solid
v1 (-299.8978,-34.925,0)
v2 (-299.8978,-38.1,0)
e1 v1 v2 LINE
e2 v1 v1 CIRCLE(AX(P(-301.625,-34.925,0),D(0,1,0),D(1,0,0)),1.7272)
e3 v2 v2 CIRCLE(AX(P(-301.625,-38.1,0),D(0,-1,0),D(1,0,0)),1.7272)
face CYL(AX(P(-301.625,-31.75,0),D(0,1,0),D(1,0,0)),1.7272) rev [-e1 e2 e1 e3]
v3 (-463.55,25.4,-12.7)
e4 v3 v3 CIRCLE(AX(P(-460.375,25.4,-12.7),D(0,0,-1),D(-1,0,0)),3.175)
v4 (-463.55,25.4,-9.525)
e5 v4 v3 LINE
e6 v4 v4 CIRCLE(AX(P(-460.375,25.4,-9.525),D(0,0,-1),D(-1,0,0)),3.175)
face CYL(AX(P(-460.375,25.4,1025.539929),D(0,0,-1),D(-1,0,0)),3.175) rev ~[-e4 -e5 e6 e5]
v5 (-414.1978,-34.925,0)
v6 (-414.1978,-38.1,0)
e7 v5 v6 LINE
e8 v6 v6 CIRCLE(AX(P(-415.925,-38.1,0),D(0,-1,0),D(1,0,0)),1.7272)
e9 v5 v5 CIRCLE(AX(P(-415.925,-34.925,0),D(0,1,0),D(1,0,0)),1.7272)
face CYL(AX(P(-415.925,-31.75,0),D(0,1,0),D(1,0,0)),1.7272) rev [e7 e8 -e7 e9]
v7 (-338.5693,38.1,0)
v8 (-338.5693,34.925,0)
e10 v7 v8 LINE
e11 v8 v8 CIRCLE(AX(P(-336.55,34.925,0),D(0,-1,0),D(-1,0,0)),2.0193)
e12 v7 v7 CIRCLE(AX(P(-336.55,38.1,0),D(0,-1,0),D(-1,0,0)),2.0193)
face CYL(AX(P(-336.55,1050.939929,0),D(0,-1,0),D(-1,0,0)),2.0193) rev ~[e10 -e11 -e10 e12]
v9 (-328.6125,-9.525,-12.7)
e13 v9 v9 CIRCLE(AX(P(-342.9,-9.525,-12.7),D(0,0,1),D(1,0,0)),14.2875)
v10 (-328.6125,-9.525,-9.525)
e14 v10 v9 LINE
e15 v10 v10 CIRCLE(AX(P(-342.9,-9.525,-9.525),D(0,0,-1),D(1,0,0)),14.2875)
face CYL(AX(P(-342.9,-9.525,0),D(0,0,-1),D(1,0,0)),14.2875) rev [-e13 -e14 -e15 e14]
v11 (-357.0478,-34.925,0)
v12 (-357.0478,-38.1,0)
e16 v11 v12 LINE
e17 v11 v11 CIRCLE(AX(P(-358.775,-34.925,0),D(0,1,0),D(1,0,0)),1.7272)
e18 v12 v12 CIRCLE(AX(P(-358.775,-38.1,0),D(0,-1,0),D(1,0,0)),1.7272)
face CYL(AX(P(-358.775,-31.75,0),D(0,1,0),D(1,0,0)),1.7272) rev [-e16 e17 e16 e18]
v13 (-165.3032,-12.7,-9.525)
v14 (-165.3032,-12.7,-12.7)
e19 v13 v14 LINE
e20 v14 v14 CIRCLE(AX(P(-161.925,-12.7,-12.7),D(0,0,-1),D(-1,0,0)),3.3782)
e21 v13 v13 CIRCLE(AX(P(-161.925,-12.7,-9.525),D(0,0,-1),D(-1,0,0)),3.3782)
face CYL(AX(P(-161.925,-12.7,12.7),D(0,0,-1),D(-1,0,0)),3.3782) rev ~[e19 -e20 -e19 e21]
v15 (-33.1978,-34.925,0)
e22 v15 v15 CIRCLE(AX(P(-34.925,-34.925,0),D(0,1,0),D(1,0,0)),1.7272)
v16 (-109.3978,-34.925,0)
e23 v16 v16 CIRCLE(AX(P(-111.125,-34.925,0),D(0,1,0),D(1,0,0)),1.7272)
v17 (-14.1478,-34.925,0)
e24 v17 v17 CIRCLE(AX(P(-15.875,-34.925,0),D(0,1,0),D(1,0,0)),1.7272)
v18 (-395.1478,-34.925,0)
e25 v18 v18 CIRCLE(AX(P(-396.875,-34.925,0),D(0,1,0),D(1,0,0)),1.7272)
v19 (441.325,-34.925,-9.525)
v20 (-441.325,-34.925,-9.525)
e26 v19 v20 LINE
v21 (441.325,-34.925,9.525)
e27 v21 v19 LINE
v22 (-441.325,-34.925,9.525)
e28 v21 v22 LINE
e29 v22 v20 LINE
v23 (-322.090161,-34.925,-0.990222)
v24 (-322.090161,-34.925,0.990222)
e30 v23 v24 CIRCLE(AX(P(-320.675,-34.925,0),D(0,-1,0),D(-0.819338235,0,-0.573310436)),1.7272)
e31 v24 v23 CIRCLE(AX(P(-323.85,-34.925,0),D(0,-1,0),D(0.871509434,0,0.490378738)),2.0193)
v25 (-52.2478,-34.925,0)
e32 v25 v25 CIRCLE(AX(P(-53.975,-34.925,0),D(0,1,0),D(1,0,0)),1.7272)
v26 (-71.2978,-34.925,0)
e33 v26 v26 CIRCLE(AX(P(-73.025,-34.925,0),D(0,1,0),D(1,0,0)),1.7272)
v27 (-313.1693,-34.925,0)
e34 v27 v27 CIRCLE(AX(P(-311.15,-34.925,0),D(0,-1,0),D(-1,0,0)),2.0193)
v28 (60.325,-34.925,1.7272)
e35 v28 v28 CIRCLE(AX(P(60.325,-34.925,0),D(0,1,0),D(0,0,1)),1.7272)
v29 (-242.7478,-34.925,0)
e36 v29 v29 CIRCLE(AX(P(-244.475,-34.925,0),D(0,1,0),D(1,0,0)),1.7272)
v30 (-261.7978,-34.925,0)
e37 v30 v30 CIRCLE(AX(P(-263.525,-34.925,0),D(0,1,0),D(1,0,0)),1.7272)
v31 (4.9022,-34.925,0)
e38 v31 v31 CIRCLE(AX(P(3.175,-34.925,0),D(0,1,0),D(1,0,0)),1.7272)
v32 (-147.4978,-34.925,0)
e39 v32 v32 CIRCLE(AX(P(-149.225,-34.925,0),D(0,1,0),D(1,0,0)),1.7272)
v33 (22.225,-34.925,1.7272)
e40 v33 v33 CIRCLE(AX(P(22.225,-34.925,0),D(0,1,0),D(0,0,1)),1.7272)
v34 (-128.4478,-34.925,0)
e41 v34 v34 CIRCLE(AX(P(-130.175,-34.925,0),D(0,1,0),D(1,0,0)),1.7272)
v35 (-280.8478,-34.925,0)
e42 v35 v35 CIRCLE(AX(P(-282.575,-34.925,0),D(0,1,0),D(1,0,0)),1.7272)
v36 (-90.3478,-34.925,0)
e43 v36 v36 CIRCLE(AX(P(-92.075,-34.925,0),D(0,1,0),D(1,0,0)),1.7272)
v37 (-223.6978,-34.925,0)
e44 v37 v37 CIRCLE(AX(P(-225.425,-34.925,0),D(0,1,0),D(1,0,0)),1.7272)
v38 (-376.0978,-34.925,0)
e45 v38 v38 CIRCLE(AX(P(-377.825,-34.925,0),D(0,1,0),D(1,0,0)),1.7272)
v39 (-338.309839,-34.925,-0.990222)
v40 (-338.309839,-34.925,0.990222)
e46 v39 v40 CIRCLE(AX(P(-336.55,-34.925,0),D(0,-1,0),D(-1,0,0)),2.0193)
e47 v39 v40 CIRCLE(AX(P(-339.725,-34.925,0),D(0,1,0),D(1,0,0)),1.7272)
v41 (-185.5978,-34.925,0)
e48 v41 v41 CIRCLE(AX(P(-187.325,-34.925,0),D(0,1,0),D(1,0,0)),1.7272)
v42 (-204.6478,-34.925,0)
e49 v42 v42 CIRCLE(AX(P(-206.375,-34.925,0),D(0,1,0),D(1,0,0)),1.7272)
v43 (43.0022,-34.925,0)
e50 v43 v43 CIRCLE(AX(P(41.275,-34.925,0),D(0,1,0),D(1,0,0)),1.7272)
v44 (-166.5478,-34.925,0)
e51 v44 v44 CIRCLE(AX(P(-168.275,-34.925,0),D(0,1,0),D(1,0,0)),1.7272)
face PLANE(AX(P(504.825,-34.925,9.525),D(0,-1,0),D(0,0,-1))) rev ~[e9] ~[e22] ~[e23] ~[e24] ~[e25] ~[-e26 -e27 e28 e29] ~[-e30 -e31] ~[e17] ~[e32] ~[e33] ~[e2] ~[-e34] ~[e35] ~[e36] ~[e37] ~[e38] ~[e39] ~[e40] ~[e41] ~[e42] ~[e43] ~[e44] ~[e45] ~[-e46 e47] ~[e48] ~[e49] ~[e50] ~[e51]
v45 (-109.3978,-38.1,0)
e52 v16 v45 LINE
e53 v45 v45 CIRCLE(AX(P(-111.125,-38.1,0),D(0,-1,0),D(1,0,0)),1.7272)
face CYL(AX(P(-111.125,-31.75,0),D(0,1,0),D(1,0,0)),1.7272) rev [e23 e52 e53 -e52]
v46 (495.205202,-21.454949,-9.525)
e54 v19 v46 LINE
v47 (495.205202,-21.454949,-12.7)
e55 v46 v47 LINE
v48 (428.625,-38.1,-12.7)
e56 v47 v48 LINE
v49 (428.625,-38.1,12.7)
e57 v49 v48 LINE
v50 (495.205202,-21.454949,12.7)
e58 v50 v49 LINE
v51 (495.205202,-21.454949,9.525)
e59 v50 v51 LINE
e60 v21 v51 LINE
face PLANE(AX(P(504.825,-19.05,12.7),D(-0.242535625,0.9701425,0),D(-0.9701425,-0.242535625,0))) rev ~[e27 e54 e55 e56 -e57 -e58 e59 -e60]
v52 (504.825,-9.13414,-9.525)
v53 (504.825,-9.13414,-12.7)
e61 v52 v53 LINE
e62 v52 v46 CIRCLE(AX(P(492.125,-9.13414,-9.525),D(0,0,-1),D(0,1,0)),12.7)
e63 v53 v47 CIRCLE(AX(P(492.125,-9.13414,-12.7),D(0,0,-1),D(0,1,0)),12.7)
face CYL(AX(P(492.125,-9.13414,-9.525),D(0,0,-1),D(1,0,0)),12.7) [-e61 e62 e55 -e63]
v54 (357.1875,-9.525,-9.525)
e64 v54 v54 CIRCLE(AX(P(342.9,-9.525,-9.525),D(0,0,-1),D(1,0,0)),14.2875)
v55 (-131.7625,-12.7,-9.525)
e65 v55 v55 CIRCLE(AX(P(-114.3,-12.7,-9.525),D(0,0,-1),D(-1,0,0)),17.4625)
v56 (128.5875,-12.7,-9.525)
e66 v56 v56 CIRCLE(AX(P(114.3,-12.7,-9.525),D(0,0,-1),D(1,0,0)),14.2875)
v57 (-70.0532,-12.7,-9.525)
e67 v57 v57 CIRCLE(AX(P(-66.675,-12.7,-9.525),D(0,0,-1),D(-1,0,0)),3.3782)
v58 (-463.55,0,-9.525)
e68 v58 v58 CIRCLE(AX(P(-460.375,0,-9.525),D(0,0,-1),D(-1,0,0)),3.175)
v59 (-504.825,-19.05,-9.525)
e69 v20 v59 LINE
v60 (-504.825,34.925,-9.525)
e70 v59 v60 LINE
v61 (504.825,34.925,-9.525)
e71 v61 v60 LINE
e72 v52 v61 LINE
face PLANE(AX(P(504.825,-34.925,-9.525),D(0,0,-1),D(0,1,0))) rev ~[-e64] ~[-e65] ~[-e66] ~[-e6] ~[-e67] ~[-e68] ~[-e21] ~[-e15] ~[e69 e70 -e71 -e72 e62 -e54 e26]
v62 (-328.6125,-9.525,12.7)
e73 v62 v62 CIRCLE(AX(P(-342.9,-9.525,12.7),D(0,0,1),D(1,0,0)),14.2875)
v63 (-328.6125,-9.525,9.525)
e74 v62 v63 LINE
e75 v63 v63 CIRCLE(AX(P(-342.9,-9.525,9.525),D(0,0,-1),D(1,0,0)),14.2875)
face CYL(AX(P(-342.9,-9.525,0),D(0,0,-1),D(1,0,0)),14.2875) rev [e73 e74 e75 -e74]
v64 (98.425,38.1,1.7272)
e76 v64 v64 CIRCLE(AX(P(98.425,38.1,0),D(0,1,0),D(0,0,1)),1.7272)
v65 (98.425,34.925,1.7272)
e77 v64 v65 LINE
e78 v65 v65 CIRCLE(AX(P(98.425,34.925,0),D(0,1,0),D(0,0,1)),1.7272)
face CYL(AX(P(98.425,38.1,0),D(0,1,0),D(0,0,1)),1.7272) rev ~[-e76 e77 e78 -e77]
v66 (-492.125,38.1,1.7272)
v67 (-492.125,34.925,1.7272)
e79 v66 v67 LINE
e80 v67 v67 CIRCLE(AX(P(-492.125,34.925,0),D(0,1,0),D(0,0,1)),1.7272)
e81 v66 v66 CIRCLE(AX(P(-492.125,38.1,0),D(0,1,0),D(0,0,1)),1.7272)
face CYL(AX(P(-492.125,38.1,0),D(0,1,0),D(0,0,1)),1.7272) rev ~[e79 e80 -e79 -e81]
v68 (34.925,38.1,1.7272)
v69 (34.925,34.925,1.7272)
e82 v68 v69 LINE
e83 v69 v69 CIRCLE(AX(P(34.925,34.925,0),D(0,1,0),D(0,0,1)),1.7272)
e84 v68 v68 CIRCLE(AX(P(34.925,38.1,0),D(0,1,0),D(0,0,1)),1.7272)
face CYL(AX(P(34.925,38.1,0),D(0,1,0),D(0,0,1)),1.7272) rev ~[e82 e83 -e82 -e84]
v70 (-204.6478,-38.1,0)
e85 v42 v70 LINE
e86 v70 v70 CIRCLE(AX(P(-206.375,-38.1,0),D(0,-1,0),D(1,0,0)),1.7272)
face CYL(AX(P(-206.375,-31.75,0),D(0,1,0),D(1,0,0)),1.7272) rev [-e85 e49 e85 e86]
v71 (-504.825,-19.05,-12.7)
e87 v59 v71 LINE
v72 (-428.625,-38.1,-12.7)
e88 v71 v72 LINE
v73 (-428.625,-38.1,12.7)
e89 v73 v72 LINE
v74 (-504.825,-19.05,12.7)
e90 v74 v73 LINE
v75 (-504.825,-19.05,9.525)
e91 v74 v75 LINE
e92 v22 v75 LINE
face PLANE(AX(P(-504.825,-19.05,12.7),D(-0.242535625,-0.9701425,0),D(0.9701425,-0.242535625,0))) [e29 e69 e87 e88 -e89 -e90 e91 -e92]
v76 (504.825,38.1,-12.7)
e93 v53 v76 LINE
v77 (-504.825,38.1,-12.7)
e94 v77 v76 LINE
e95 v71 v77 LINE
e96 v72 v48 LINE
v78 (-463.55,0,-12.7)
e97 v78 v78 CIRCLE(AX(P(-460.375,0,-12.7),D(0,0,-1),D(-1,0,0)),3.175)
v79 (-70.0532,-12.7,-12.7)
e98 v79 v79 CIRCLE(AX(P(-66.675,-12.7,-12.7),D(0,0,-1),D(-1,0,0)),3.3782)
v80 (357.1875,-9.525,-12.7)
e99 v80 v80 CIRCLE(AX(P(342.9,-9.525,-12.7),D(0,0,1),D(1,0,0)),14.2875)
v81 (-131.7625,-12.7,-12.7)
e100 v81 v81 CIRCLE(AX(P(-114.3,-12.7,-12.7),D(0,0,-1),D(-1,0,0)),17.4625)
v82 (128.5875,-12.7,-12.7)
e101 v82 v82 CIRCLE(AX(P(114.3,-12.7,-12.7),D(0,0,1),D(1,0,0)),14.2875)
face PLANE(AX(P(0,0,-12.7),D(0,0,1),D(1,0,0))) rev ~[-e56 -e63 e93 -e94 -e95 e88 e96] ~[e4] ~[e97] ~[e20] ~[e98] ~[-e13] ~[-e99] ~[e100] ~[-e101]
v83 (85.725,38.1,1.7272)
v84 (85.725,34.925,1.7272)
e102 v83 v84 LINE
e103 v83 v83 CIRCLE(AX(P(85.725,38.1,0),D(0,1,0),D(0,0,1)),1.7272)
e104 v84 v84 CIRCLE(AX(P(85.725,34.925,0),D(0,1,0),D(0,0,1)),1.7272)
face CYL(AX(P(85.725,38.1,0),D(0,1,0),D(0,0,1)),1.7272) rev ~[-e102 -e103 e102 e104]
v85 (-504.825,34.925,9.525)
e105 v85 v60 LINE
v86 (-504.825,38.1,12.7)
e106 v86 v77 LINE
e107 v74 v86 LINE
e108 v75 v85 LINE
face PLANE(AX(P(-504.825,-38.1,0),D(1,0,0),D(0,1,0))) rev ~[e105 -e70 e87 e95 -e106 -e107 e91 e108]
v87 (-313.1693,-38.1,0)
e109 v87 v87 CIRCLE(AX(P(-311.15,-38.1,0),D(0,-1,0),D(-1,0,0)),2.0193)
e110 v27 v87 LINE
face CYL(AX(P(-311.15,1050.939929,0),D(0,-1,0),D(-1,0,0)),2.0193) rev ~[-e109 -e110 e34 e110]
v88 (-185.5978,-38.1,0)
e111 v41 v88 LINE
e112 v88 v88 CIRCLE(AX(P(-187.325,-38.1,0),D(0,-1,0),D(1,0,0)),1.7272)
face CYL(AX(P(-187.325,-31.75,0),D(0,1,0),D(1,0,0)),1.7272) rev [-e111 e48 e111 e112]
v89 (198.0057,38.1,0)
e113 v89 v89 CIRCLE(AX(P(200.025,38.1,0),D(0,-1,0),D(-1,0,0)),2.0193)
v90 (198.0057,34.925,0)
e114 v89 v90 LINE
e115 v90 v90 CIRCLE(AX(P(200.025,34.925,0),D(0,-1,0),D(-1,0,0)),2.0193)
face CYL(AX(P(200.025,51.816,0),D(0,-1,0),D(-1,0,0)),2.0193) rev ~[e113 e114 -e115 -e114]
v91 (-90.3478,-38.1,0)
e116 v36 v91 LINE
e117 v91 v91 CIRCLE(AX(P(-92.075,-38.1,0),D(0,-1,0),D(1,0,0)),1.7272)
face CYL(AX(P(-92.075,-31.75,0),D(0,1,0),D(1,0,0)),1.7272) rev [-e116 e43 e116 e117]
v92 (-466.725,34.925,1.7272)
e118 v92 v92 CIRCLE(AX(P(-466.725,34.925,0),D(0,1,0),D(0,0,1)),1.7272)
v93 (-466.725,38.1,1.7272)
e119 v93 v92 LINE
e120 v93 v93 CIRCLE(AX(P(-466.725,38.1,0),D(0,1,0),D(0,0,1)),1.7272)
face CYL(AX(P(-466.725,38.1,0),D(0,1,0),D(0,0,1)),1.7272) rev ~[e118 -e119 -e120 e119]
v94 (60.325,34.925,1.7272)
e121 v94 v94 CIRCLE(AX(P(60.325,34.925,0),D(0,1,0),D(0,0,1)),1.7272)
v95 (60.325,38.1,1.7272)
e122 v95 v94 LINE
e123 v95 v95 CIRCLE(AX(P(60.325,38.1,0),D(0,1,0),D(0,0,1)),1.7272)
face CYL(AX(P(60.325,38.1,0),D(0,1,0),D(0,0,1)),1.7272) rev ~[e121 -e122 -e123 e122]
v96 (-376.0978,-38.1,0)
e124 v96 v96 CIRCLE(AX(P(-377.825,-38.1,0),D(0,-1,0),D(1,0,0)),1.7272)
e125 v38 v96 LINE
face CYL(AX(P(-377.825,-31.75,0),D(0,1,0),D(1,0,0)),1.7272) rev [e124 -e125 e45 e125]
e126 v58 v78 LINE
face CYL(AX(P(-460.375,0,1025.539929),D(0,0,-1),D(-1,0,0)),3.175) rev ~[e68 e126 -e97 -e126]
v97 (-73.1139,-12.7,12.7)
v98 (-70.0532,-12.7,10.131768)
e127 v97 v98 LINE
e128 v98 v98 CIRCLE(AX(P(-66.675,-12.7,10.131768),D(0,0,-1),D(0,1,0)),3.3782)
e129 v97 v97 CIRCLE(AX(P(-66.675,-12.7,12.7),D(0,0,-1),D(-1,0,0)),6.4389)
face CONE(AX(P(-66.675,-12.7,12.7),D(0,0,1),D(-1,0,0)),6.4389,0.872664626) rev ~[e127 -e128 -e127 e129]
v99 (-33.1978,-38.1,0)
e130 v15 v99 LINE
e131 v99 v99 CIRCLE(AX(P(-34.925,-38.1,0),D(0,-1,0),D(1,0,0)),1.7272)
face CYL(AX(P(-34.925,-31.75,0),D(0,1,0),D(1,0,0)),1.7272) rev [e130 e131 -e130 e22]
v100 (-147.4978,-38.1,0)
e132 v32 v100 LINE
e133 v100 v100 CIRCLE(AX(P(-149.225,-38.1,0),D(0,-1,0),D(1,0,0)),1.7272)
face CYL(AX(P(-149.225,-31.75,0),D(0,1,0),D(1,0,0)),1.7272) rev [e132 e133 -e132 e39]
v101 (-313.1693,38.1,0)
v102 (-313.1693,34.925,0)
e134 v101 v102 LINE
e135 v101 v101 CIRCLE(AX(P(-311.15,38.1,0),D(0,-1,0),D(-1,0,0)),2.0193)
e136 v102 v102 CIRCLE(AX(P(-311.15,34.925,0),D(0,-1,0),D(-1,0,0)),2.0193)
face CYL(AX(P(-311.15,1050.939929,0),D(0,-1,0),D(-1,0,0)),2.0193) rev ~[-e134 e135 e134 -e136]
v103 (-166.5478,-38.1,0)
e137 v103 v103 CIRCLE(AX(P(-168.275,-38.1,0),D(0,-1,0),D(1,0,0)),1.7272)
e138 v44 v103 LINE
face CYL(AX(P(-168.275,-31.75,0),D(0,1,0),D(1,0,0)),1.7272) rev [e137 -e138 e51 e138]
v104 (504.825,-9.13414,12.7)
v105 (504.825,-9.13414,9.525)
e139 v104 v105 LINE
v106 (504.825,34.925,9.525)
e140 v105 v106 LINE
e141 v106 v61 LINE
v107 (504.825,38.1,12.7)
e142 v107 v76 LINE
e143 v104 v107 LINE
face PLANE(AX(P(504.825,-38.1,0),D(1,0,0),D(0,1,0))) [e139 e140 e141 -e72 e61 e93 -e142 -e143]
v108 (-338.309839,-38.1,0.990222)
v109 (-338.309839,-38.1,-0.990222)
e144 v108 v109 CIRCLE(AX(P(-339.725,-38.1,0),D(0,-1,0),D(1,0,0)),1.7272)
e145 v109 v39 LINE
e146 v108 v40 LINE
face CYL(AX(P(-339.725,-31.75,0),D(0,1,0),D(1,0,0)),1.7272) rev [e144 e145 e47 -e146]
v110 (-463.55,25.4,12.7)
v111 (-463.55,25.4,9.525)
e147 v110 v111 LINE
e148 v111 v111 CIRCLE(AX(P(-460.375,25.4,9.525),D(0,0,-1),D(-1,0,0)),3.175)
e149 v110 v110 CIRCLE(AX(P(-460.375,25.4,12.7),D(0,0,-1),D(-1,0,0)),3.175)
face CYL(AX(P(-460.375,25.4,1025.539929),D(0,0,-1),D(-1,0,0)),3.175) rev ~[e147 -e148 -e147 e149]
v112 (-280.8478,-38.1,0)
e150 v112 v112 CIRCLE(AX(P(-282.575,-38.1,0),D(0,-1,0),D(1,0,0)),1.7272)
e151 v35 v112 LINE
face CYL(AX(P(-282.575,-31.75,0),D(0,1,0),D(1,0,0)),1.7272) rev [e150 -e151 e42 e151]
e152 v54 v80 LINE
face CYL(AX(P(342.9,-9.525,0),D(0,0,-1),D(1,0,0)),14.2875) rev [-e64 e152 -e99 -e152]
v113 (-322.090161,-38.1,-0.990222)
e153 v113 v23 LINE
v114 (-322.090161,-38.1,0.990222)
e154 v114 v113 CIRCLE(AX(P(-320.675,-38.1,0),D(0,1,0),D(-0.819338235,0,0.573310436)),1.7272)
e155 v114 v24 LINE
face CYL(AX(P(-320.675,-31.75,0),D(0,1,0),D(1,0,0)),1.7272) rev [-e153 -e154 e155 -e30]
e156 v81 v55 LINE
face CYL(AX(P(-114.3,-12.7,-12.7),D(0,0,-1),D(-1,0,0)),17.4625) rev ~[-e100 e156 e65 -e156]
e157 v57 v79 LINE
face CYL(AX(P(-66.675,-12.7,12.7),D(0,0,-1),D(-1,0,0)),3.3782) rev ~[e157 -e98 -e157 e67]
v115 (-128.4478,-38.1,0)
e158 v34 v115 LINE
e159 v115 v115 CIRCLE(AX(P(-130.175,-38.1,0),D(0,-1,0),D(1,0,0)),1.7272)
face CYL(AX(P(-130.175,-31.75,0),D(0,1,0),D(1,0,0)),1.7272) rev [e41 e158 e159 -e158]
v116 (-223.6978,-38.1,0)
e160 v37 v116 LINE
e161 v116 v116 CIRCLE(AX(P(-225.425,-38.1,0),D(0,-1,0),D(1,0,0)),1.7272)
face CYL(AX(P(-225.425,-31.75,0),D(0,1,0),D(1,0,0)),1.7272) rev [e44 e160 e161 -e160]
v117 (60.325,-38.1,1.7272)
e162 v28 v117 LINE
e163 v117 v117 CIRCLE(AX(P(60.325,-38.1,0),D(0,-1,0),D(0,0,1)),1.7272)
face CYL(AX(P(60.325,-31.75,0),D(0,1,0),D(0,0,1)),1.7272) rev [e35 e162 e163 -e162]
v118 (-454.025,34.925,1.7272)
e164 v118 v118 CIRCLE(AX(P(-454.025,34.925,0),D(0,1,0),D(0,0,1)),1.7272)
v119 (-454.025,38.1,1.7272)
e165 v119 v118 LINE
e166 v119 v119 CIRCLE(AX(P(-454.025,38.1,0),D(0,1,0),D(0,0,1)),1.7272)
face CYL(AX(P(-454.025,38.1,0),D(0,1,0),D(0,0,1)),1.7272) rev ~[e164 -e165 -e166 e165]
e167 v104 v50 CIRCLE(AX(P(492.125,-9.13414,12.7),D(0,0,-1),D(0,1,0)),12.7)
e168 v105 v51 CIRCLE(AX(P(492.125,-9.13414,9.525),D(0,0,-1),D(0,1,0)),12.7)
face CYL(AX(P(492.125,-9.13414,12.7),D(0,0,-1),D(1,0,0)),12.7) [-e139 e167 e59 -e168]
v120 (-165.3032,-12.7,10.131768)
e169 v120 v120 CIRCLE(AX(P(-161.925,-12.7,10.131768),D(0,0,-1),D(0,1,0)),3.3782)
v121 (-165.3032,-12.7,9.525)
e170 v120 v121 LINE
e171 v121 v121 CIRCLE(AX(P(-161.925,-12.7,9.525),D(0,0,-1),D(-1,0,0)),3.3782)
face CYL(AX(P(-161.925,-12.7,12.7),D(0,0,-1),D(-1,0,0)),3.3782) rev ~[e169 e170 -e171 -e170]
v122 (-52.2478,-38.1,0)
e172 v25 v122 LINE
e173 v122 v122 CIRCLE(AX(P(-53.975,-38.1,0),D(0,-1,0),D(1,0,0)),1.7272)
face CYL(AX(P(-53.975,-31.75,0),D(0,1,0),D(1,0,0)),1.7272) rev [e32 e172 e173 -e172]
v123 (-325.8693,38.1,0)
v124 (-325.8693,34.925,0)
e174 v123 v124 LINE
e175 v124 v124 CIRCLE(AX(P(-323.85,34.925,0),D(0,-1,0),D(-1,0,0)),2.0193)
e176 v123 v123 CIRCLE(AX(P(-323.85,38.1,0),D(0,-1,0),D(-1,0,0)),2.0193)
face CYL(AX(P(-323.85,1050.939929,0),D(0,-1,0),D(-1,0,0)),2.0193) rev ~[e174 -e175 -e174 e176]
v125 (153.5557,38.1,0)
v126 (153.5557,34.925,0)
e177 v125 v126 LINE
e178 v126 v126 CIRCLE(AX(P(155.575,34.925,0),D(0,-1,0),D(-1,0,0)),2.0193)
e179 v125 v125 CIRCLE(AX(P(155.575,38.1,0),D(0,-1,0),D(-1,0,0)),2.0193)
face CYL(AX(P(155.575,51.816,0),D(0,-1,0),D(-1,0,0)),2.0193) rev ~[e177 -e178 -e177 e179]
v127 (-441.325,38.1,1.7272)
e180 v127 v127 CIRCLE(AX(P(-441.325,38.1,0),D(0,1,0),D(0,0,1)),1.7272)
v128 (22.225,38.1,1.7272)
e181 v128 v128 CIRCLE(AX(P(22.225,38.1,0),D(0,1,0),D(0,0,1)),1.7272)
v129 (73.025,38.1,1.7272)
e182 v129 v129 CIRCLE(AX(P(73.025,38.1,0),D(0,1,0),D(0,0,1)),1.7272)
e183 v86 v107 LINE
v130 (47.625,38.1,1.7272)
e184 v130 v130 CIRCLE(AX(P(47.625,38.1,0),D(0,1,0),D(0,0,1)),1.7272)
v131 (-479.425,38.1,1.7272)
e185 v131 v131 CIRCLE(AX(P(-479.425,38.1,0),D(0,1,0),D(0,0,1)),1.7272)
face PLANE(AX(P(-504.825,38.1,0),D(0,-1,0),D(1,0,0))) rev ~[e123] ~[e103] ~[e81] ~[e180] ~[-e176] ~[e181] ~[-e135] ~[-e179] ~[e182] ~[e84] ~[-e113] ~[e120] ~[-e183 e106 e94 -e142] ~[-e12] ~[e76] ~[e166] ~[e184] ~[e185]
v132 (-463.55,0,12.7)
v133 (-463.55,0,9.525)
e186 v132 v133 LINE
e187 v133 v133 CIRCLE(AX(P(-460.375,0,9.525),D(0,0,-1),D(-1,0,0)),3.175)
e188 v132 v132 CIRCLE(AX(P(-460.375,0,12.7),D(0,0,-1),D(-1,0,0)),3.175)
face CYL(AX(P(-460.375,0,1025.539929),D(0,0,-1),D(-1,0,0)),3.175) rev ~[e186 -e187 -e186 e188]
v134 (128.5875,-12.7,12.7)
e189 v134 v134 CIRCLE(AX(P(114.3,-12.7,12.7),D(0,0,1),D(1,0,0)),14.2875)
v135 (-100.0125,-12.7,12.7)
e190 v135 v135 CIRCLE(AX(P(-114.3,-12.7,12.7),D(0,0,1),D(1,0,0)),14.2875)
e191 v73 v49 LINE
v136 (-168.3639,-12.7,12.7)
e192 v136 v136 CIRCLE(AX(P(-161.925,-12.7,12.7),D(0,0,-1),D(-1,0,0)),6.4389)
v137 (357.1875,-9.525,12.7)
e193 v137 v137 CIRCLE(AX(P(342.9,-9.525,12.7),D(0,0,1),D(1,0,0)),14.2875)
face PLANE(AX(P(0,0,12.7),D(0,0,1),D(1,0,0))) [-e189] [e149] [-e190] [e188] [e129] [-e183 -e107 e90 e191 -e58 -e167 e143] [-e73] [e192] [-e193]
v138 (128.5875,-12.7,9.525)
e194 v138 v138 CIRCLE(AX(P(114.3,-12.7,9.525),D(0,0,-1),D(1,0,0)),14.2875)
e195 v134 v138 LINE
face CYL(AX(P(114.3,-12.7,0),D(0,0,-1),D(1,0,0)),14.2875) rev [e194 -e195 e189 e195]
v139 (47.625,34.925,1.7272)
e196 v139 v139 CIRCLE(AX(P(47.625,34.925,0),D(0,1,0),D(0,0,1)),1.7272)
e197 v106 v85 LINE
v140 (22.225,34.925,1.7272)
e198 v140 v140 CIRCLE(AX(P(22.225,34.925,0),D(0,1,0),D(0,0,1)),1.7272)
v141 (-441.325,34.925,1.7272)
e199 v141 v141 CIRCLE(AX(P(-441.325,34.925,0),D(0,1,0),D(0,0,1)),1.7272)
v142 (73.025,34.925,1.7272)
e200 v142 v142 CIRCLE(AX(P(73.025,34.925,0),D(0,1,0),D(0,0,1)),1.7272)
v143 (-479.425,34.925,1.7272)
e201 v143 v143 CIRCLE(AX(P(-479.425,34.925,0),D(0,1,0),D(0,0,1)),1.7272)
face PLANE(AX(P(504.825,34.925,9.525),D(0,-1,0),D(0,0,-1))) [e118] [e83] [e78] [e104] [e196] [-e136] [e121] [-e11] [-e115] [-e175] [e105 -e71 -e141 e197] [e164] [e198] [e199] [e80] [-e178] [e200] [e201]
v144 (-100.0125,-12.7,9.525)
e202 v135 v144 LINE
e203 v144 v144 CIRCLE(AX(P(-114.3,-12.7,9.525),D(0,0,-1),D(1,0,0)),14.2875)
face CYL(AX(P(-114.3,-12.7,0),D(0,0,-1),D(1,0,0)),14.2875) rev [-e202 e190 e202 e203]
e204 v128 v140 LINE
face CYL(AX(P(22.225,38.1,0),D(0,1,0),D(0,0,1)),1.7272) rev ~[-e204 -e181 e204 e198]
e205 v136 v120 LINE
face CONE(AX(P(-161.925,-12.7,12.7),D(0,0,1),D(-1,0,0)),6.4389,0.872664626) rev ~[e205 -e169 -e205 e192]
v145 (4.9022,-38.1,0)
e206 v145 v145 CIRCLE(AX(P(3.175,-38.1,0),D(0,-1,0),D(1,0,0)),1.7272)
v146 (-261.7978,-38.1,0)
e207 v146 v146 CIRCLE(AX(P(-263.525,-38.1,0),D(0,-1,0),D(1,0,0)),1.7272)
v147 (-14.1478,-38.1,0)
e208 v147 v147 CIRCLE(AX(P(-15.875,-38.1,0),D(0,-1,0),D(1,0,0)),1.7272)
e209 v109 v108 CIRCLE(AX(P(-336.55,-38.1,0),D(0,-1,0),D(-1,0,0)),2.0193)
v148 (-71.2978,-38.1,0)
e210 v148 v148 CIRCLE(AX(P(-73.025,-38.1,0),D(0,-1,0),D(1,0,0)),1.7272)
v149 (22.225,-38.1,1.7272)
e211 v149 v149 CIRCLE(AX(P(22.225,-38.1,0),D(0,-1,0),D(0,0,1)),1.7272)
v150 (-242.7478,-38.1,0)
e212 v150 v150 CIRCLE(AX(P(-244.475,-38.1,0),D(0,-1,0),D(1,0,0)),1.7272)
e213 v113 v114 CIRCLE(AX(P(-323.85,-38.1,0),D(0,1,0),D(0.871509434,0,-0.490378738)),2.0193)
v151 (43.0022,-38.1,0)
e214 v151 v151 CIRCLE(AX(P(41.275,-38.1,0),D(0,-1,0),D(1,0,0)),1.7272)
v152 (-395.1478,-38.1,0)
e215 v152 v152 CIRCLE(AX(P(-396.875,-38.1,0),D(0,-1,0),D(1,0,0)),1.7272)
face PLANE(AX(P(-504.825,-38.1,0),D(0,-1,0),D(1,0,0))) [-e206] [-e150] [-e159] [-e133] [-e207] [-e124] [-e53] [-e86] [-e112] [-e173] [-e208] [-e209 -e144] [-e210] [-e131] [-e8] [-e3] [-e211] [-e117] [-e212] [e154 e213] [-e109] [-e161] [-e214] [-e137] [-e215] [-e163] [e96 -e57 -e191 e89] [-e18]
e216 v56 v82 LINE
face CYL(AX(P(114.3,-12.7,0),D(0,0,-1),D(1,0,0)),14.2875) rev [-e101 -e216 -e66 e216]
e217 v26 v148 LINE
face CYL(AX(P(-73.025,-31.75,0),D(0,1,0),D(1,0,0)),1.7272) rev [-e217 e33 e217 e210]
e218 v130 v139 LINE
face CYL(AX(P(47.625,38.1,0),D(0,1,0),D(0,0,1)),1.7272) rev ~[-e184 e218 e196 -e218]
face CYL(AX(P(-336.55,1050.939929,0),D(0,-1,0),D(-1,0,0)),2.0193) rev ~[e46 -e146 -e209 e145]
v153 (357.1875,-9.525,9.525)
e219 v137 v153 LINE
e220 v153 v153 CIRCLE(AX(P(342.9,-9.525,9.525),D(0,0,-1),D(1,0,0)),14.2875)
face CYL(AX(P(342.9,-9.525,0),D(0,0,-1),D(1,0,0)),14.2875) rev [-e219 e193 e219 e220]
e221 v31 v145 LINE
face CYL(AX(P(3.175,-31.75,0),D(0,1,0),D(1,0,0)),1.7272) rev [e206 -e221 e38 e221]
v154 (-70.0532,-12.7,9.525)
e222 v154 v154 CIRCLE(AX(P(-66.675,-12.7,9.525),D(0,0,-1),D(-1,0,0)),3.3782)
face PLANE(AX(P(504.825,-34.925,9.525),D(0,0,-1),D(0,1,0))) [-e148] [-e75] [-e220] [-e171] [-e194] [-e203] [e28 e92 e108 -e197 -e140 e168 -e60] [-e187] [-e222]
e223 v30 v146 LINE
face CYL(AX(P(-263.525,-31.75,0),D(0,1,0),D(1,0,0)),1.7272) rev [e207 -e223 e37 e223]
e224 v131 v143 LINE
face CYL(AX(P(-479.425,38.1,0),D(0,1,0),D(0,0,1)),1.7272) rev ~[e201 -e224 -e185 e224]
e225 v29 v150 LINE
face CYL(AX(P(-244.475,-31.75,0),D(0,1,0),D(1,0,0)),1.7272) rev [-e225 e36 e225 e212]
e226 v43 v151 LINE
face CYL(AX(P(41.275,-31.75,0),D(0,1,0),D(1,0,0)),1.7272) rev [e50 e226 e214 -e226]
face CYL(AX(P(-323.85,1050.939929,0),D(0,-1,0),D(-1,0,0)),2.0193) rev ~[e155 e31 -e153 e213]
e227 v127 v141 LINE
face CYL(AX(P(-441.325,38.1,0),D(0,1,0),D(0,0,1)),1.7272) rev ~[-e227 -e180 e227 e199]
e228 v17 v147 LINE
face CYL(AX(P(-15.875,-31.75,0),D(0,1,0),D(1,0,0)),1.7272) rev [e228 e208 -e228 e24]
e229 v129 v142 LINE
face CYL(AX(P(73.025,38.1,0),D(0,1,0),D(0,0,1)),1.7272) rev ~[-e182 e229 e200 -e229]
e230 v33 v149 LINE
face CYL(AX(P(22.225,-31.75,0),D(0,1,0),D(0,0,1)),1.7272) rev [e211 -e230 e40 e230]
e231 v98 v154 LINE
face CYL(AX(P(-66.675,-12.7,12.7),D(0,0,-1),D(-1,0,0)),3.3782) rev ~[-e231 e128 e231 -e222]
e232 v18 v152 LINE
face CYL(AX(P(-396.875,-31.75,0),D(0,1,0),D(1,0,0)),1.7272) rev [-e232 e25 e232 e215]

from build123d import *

# Parameters (mm, degrees)
SKETCH1_W                                           = 1009.65
SKETCH1_H                                           = 76.2
SKETCH1_R                                           = 14.2875
BOSS_EXTRUDE2_DEPTH                                 = 12.7
SKETCH3_W                                           = 19.05
SKETCH3_H                                           = 69.85
CUT_EXTRUDE2_DEPTH                                  = 1011.448426442
CUT_EXTRUDE3_DEPTH                                  = 507.897475457
FILLET1_R                                           = 12.7
SKETCH9_R                                           = 1.7272
CUT_EXTRUDE5_DEPTH                                  = 6.35
SKETCH12_R                                          = 1.7272
CUT_EXTRUDE8_DEPTH                                  = 5.08
CSK_FOR_1_4_FLAT_HEAD_MACHINE_SCREW_100_D           = 6.7564
CSK_FOR_1_4_FLAT_HEAD_MACHINE_SCREW_100_CSINK_D     = 12.8778
CSK_FOR_1_4_FLAT_HEAD_MACHINE_SCREW_100_CSINK_ANGLE = 100
CUT_EXTRUDE9_START                                  = -6.35
SKETCH15_R                                          = 1.7272
CUT_EXTRUDE9_DEPTH                                  = 6.35
SKETCH16_R                                          = 17.4625
CUT_EXTRUDE10_DEPTH                                 = 3.81
F_1_4_0_25_DIAMETER_HOLE1_D                         = 6.35
F_10_32_TAPPED_HOLE2_D                              = 4.0386
F_10_32_TAPPED_HOLE2_DEPTH                          = 13.716
F_10_32_TAPPED_HOLE2_TIP                            = 1.213317848
F_10_32_TAPPED_HOLE3_D                              = 4.0386


with BuildPart() as part:
    # Sketch1 → Boss-Extrude2 (new, symmetric)
    with BuildSketch(Plane.XY):
        Rectangle(SKETCH1_W, SKETCH1_H)
        with Locations((114.3, -12.7)):
            Circle(SKETCH1_R, mode=Mode.SUBTRACT)
        with Locations((-342.9, -9.525)):
            Circle(SKETCH1_R, mode=Mode.SUBTRACT)
        with Locations((342.9, -9.525)):
            Circle(SKETCH1_R, mode=Mode.SUBTRACT)
        with Locations((-114.3, -12.7)):
            Circle(SKETCH1_R, mode=Mode.SUBTRACT)
    extrude(amount=BOSS_EXTRUDE2_DEPTH, both=True)

    # Sketch3 → Cut-Extrude2 (cut, through all)
    with BuildSketch(Plane(origin=(504.825, 0, 0), x_dir=(0, 0, -1), z_dir=(1, 0, 0))):
        Rectangle(SKETCH3_W, SKETCH3_H)
    extrude(amount=-CUT_EXTRUDE2_DEPTH, mode=Mode.SUBTRACT)

    # Sketch4 → Cut-Extrude3 (cut, through all)
    with BuildSketch(Plane.XY.offset(12.7)):
        Polygon((-504.825, -38.1), (-504.825, -19.05), (-428.625, -38.1), align=None)
        Polygon((428.625, -38.1), (504.825, -38.1), (504.825, -19.05), align=None)
    extrude(amount=-CUT_EXTRUDE3_DEPTH, mode=Mode.SUBTRACT)

    # Fillet1
    fillet1_edges = [part.edges().sort_by_distance(p)[0] for p in [
        (504.825, -19.05, 11.1125),
        (504.825, -19.05, -11.1125),
    ]]
    fillet(fillet1_edges, radius=FILLET1_R)

    # Sketch9 → Cut-Extrude5 (cut)
    with BuildSketch(Plane(origin=(0, 38.1, 0), x_dir=(1, 0, 0), z_dir=(0, 1, 0))):
        with Locations(Location((-492.125, 0, 0), (0, 0, 270))):
            Circle(SKETCH9_R)
        with Locations(Location((-441.325, 0, 0), (0, 0, 270))):
            Circle(SKETCH9_R)
        with Locations(Location((-479.425, 0, 0), (0, 0, 270))):
            Circle(SKETCH9_R)
        with Locations(Location((-466.725, 0, 0), (0, 0, 270))):
            Circle(SKETCH9_R)
        with Locations(Location((-454.025, 0, 0), (0, 0, 270))):
            Circle(SKETCH9_R)
    extrude(amount=-CUT_EXTRUDE5_DEPTH, mode=Mode.SUBTRACT)

    # Sketch12 → Cut-Extrude8 (cut)
    with BuildSketch(Plane(origin=(0, 38.1, 0), x_dir=(1, 0, 0), z_dir=(0, 1, 0))):
        with Locations(Location((98.425, 0, 0), (0, 0, 270))):
            Circle(SKETCH12_R)
        with Locations(Location((85.725, 0, 0), (0, 0, 270))):
            Circle(SKETCH12_R)
        with Locations(Location((73.025, 0, 0), (0, 0, 270))):
            Circle(SKETCH12_R)
        with Locations(Location((60.325, 0, 0), (0, 0, 270))):
            Circle(SKETCH12_R)
        with Locations(Location((47.625, 0, 0), (0, 0, 270))):
            Circle(SKETCH12_R)
        with Locations(Location((34.925, 0, 0), (0, 0, 270))):
            Circle(SKETCH12_R)
        with Locations(Location((22.225, 0, 0), (0, 0, 270))):
            Circle(SKETCH12_R)
    extrude(amount=-CUT_EXTRUDE8_DEPTH, mode=Mode.SUBTRACT)

    # CSK for 1/4 Flat Head Machine Screw (100)1 (through all)
    with Locations(Plane.XY.offset(12.7)):
        with Locations((-66.675, -12.7), (-161.925, -12.7)):
            CounterSinkHole(CSK_FOR_1_4_FLAT_HEAD_MACHINE_SCREW_100_D / 2, CSK_FOR_1_4_FLAT_HEAD_MACHINE_SCREW_100_CSINK_D / 2, counter_sink_angle=CSK_FOR_1_4_FLAT_HEAD_MACHINE_SCREW_100_CSINK_ANGLE)

    # Sketch15 → Cut-Extrude9 (cut)
    with BuildSketch(Plane(origin=(0, -38.1, 0), x_dir=(-1, 0, 0), z_dir=(0, -1, 0)).offset(CUT_EXTRUDE9_START)):
        with Locations(Location((415.925, 0, 0), (0, 0, 180))):
            Circle(SKETCH15_R)
        with Locations(Location((396.875, 0, 0), (0, 0, 180))):
            Circle(SKETCH15_R)
        with Locations(Location((377.825, 0, 0), (0, 0, 180))):
            Circle(SKETCH15_R)
        with Locations(Location((358.775, 0, 0), (0, 0, 180))):
            Circle(SKETCH15_R)
        with Locations(Location((339.725, 0, 0), (0, 0, 180))):
            Circle(SKETCH15_R)
        with Locations(Location((320.675, 0, 0), (0, 0, 180))):
            Circle(SKETCH15_R)
        with Locations(Location((301.625, 0, 0), (0, 0, 180))):
            Circle(SKETCH15_R)
        with Locations(Location((282.575, 0, 0), (0, 0, 180))):
            Circle(SKETCH15_R)
        with Locations(Location((263.525, 0, 0), (0, 0, 180))):
            Circle(SKETCH15_R)
        with Locations(Location((244.475, 0, 0), (0, 0, 180))):
            Circle(SKETCH15_R)
        with Locations(Location((225.425, 0, 0), (0, 0, 180))):
            Circle(SKETCH15_R)
        with Locations(Location((206.375, 0, 0), (0, 0, 180))):
            Circle(SKETCH15_R)
        with Locations(Location((187.325, 0, 0), (0, 0, 180))):
            Circle(SKETCH15_R)
        with Locations(Location((168.275, 0, 0), (0, 0, 180))):
            Circle(SKETCH15_R)
        with Locations(Location((149.225, 0, 0), (0, 0, 180))):
            Circle(SKETCH15_R)
        with Locations(Location((130.175, 0, 0), (0, 0, 180))):
            Circle(SKETCH15_R)
        with Locations(Location((111.125, 0, 0), (0, 0, 180))):
            Circle(SKETCH15_R)
        with Locations(Location((92.075, 0, 0), (0, 0, 180))):
            Circle(SKETCH15_R)
        with Locations(Location((73.025, 0, 0), (0, 0, 180))):
            Circle(SKETCH15_R)
        with Locations(Location((53.975, 0, 0), (0, 0, 180))):
            Circle(SKETCH15_R)
        with Locations(Location((34.925, 0, 0), (0, 0, 180))):
            Circle(SKETCH15_R)
        with Locations(Location((15.875, 0, 0), (0, 0, 180))):
            Circle(SKETCH15_R)
        with Locations(Location((-3.175, 0, 0), (0, 0, 180))):
            Circle(SKETCH15_R)
        with Locations(Location((-22.225, 0, 0), (0, 0, 270))):
            Circle(SKETCH15_R)
        with Locations(Location((-41.275, 0, 0), (0, 0, 180))):
            Circle(SKETCH15_R)
        with Locations(Location((-60.325, 0, 0), (0, 0, 270))):
            Circle(SKETCH15_R)
    extrude(amount=CUT_EXTRUDE9_DEPTH, mode=Mode.SUBTRACT)

    # Sketch16 → Cut-Extrude10 (cut)
    with BuildSketch(Plane(origin=(0, 0, -12.7), x_dir=(-1, 0, 0), z_dir=(0, 0, -1))):
        with Locations((114.3, -12.7)):
            Circle(SKETCH16_R)
    extrude(amount=-CUT_EXTRUDE10_DEPTH, mode=Mode.SUBTRACT)

    # 1/4 (0.25) Diameter Hole1 (through all)
    with Locations(Plane.XY.offset(12.7)):
        with Locations((-460.375, 25.4), (-460.375, 0)):
            Hole(F_1_4_0_25_DIAMETER_HOLE1_D / 2)

    # #10-32 Tapped Hole2
    with Locations(Plane(origin=(0, 38.1, 0), x_dir=(1, 0, 0), z_dir=(0, 1, 0))):
        with Locations((155.575, 0), (200.025, 0)):
            Hole(F_10_32_TAPPED_HOLE2_D / 2, depth=F_10_32_TAPPED_HOLE2_DEPTH)
            with Locations((0, 0, -(F_10_32_TAPPED_HOLE2_DEPTH + F_10_32_TAPPED_HOLE2_TIP / 2))):  # 118° drill point
                Cone(0, F_10_32_TAPPED_HOLE2_D / 2, F_10_32_TAPPED_HOLE2_TIP, mode=Mode.SUBTRACT)

    # #10-32 Tapped Hole3 (through all)
    with Locations(Plane(origin=(0, 38.1, 0), x_dir=(1, 0, 0), z_dir=(0, 1, 0))):
        with Locations((-336.55, 0), (-311.15, 0), (-323.85, 0)):
            Hole(F_10_32_TAPPED_HOLE3_D / 2)


solid = part.part
